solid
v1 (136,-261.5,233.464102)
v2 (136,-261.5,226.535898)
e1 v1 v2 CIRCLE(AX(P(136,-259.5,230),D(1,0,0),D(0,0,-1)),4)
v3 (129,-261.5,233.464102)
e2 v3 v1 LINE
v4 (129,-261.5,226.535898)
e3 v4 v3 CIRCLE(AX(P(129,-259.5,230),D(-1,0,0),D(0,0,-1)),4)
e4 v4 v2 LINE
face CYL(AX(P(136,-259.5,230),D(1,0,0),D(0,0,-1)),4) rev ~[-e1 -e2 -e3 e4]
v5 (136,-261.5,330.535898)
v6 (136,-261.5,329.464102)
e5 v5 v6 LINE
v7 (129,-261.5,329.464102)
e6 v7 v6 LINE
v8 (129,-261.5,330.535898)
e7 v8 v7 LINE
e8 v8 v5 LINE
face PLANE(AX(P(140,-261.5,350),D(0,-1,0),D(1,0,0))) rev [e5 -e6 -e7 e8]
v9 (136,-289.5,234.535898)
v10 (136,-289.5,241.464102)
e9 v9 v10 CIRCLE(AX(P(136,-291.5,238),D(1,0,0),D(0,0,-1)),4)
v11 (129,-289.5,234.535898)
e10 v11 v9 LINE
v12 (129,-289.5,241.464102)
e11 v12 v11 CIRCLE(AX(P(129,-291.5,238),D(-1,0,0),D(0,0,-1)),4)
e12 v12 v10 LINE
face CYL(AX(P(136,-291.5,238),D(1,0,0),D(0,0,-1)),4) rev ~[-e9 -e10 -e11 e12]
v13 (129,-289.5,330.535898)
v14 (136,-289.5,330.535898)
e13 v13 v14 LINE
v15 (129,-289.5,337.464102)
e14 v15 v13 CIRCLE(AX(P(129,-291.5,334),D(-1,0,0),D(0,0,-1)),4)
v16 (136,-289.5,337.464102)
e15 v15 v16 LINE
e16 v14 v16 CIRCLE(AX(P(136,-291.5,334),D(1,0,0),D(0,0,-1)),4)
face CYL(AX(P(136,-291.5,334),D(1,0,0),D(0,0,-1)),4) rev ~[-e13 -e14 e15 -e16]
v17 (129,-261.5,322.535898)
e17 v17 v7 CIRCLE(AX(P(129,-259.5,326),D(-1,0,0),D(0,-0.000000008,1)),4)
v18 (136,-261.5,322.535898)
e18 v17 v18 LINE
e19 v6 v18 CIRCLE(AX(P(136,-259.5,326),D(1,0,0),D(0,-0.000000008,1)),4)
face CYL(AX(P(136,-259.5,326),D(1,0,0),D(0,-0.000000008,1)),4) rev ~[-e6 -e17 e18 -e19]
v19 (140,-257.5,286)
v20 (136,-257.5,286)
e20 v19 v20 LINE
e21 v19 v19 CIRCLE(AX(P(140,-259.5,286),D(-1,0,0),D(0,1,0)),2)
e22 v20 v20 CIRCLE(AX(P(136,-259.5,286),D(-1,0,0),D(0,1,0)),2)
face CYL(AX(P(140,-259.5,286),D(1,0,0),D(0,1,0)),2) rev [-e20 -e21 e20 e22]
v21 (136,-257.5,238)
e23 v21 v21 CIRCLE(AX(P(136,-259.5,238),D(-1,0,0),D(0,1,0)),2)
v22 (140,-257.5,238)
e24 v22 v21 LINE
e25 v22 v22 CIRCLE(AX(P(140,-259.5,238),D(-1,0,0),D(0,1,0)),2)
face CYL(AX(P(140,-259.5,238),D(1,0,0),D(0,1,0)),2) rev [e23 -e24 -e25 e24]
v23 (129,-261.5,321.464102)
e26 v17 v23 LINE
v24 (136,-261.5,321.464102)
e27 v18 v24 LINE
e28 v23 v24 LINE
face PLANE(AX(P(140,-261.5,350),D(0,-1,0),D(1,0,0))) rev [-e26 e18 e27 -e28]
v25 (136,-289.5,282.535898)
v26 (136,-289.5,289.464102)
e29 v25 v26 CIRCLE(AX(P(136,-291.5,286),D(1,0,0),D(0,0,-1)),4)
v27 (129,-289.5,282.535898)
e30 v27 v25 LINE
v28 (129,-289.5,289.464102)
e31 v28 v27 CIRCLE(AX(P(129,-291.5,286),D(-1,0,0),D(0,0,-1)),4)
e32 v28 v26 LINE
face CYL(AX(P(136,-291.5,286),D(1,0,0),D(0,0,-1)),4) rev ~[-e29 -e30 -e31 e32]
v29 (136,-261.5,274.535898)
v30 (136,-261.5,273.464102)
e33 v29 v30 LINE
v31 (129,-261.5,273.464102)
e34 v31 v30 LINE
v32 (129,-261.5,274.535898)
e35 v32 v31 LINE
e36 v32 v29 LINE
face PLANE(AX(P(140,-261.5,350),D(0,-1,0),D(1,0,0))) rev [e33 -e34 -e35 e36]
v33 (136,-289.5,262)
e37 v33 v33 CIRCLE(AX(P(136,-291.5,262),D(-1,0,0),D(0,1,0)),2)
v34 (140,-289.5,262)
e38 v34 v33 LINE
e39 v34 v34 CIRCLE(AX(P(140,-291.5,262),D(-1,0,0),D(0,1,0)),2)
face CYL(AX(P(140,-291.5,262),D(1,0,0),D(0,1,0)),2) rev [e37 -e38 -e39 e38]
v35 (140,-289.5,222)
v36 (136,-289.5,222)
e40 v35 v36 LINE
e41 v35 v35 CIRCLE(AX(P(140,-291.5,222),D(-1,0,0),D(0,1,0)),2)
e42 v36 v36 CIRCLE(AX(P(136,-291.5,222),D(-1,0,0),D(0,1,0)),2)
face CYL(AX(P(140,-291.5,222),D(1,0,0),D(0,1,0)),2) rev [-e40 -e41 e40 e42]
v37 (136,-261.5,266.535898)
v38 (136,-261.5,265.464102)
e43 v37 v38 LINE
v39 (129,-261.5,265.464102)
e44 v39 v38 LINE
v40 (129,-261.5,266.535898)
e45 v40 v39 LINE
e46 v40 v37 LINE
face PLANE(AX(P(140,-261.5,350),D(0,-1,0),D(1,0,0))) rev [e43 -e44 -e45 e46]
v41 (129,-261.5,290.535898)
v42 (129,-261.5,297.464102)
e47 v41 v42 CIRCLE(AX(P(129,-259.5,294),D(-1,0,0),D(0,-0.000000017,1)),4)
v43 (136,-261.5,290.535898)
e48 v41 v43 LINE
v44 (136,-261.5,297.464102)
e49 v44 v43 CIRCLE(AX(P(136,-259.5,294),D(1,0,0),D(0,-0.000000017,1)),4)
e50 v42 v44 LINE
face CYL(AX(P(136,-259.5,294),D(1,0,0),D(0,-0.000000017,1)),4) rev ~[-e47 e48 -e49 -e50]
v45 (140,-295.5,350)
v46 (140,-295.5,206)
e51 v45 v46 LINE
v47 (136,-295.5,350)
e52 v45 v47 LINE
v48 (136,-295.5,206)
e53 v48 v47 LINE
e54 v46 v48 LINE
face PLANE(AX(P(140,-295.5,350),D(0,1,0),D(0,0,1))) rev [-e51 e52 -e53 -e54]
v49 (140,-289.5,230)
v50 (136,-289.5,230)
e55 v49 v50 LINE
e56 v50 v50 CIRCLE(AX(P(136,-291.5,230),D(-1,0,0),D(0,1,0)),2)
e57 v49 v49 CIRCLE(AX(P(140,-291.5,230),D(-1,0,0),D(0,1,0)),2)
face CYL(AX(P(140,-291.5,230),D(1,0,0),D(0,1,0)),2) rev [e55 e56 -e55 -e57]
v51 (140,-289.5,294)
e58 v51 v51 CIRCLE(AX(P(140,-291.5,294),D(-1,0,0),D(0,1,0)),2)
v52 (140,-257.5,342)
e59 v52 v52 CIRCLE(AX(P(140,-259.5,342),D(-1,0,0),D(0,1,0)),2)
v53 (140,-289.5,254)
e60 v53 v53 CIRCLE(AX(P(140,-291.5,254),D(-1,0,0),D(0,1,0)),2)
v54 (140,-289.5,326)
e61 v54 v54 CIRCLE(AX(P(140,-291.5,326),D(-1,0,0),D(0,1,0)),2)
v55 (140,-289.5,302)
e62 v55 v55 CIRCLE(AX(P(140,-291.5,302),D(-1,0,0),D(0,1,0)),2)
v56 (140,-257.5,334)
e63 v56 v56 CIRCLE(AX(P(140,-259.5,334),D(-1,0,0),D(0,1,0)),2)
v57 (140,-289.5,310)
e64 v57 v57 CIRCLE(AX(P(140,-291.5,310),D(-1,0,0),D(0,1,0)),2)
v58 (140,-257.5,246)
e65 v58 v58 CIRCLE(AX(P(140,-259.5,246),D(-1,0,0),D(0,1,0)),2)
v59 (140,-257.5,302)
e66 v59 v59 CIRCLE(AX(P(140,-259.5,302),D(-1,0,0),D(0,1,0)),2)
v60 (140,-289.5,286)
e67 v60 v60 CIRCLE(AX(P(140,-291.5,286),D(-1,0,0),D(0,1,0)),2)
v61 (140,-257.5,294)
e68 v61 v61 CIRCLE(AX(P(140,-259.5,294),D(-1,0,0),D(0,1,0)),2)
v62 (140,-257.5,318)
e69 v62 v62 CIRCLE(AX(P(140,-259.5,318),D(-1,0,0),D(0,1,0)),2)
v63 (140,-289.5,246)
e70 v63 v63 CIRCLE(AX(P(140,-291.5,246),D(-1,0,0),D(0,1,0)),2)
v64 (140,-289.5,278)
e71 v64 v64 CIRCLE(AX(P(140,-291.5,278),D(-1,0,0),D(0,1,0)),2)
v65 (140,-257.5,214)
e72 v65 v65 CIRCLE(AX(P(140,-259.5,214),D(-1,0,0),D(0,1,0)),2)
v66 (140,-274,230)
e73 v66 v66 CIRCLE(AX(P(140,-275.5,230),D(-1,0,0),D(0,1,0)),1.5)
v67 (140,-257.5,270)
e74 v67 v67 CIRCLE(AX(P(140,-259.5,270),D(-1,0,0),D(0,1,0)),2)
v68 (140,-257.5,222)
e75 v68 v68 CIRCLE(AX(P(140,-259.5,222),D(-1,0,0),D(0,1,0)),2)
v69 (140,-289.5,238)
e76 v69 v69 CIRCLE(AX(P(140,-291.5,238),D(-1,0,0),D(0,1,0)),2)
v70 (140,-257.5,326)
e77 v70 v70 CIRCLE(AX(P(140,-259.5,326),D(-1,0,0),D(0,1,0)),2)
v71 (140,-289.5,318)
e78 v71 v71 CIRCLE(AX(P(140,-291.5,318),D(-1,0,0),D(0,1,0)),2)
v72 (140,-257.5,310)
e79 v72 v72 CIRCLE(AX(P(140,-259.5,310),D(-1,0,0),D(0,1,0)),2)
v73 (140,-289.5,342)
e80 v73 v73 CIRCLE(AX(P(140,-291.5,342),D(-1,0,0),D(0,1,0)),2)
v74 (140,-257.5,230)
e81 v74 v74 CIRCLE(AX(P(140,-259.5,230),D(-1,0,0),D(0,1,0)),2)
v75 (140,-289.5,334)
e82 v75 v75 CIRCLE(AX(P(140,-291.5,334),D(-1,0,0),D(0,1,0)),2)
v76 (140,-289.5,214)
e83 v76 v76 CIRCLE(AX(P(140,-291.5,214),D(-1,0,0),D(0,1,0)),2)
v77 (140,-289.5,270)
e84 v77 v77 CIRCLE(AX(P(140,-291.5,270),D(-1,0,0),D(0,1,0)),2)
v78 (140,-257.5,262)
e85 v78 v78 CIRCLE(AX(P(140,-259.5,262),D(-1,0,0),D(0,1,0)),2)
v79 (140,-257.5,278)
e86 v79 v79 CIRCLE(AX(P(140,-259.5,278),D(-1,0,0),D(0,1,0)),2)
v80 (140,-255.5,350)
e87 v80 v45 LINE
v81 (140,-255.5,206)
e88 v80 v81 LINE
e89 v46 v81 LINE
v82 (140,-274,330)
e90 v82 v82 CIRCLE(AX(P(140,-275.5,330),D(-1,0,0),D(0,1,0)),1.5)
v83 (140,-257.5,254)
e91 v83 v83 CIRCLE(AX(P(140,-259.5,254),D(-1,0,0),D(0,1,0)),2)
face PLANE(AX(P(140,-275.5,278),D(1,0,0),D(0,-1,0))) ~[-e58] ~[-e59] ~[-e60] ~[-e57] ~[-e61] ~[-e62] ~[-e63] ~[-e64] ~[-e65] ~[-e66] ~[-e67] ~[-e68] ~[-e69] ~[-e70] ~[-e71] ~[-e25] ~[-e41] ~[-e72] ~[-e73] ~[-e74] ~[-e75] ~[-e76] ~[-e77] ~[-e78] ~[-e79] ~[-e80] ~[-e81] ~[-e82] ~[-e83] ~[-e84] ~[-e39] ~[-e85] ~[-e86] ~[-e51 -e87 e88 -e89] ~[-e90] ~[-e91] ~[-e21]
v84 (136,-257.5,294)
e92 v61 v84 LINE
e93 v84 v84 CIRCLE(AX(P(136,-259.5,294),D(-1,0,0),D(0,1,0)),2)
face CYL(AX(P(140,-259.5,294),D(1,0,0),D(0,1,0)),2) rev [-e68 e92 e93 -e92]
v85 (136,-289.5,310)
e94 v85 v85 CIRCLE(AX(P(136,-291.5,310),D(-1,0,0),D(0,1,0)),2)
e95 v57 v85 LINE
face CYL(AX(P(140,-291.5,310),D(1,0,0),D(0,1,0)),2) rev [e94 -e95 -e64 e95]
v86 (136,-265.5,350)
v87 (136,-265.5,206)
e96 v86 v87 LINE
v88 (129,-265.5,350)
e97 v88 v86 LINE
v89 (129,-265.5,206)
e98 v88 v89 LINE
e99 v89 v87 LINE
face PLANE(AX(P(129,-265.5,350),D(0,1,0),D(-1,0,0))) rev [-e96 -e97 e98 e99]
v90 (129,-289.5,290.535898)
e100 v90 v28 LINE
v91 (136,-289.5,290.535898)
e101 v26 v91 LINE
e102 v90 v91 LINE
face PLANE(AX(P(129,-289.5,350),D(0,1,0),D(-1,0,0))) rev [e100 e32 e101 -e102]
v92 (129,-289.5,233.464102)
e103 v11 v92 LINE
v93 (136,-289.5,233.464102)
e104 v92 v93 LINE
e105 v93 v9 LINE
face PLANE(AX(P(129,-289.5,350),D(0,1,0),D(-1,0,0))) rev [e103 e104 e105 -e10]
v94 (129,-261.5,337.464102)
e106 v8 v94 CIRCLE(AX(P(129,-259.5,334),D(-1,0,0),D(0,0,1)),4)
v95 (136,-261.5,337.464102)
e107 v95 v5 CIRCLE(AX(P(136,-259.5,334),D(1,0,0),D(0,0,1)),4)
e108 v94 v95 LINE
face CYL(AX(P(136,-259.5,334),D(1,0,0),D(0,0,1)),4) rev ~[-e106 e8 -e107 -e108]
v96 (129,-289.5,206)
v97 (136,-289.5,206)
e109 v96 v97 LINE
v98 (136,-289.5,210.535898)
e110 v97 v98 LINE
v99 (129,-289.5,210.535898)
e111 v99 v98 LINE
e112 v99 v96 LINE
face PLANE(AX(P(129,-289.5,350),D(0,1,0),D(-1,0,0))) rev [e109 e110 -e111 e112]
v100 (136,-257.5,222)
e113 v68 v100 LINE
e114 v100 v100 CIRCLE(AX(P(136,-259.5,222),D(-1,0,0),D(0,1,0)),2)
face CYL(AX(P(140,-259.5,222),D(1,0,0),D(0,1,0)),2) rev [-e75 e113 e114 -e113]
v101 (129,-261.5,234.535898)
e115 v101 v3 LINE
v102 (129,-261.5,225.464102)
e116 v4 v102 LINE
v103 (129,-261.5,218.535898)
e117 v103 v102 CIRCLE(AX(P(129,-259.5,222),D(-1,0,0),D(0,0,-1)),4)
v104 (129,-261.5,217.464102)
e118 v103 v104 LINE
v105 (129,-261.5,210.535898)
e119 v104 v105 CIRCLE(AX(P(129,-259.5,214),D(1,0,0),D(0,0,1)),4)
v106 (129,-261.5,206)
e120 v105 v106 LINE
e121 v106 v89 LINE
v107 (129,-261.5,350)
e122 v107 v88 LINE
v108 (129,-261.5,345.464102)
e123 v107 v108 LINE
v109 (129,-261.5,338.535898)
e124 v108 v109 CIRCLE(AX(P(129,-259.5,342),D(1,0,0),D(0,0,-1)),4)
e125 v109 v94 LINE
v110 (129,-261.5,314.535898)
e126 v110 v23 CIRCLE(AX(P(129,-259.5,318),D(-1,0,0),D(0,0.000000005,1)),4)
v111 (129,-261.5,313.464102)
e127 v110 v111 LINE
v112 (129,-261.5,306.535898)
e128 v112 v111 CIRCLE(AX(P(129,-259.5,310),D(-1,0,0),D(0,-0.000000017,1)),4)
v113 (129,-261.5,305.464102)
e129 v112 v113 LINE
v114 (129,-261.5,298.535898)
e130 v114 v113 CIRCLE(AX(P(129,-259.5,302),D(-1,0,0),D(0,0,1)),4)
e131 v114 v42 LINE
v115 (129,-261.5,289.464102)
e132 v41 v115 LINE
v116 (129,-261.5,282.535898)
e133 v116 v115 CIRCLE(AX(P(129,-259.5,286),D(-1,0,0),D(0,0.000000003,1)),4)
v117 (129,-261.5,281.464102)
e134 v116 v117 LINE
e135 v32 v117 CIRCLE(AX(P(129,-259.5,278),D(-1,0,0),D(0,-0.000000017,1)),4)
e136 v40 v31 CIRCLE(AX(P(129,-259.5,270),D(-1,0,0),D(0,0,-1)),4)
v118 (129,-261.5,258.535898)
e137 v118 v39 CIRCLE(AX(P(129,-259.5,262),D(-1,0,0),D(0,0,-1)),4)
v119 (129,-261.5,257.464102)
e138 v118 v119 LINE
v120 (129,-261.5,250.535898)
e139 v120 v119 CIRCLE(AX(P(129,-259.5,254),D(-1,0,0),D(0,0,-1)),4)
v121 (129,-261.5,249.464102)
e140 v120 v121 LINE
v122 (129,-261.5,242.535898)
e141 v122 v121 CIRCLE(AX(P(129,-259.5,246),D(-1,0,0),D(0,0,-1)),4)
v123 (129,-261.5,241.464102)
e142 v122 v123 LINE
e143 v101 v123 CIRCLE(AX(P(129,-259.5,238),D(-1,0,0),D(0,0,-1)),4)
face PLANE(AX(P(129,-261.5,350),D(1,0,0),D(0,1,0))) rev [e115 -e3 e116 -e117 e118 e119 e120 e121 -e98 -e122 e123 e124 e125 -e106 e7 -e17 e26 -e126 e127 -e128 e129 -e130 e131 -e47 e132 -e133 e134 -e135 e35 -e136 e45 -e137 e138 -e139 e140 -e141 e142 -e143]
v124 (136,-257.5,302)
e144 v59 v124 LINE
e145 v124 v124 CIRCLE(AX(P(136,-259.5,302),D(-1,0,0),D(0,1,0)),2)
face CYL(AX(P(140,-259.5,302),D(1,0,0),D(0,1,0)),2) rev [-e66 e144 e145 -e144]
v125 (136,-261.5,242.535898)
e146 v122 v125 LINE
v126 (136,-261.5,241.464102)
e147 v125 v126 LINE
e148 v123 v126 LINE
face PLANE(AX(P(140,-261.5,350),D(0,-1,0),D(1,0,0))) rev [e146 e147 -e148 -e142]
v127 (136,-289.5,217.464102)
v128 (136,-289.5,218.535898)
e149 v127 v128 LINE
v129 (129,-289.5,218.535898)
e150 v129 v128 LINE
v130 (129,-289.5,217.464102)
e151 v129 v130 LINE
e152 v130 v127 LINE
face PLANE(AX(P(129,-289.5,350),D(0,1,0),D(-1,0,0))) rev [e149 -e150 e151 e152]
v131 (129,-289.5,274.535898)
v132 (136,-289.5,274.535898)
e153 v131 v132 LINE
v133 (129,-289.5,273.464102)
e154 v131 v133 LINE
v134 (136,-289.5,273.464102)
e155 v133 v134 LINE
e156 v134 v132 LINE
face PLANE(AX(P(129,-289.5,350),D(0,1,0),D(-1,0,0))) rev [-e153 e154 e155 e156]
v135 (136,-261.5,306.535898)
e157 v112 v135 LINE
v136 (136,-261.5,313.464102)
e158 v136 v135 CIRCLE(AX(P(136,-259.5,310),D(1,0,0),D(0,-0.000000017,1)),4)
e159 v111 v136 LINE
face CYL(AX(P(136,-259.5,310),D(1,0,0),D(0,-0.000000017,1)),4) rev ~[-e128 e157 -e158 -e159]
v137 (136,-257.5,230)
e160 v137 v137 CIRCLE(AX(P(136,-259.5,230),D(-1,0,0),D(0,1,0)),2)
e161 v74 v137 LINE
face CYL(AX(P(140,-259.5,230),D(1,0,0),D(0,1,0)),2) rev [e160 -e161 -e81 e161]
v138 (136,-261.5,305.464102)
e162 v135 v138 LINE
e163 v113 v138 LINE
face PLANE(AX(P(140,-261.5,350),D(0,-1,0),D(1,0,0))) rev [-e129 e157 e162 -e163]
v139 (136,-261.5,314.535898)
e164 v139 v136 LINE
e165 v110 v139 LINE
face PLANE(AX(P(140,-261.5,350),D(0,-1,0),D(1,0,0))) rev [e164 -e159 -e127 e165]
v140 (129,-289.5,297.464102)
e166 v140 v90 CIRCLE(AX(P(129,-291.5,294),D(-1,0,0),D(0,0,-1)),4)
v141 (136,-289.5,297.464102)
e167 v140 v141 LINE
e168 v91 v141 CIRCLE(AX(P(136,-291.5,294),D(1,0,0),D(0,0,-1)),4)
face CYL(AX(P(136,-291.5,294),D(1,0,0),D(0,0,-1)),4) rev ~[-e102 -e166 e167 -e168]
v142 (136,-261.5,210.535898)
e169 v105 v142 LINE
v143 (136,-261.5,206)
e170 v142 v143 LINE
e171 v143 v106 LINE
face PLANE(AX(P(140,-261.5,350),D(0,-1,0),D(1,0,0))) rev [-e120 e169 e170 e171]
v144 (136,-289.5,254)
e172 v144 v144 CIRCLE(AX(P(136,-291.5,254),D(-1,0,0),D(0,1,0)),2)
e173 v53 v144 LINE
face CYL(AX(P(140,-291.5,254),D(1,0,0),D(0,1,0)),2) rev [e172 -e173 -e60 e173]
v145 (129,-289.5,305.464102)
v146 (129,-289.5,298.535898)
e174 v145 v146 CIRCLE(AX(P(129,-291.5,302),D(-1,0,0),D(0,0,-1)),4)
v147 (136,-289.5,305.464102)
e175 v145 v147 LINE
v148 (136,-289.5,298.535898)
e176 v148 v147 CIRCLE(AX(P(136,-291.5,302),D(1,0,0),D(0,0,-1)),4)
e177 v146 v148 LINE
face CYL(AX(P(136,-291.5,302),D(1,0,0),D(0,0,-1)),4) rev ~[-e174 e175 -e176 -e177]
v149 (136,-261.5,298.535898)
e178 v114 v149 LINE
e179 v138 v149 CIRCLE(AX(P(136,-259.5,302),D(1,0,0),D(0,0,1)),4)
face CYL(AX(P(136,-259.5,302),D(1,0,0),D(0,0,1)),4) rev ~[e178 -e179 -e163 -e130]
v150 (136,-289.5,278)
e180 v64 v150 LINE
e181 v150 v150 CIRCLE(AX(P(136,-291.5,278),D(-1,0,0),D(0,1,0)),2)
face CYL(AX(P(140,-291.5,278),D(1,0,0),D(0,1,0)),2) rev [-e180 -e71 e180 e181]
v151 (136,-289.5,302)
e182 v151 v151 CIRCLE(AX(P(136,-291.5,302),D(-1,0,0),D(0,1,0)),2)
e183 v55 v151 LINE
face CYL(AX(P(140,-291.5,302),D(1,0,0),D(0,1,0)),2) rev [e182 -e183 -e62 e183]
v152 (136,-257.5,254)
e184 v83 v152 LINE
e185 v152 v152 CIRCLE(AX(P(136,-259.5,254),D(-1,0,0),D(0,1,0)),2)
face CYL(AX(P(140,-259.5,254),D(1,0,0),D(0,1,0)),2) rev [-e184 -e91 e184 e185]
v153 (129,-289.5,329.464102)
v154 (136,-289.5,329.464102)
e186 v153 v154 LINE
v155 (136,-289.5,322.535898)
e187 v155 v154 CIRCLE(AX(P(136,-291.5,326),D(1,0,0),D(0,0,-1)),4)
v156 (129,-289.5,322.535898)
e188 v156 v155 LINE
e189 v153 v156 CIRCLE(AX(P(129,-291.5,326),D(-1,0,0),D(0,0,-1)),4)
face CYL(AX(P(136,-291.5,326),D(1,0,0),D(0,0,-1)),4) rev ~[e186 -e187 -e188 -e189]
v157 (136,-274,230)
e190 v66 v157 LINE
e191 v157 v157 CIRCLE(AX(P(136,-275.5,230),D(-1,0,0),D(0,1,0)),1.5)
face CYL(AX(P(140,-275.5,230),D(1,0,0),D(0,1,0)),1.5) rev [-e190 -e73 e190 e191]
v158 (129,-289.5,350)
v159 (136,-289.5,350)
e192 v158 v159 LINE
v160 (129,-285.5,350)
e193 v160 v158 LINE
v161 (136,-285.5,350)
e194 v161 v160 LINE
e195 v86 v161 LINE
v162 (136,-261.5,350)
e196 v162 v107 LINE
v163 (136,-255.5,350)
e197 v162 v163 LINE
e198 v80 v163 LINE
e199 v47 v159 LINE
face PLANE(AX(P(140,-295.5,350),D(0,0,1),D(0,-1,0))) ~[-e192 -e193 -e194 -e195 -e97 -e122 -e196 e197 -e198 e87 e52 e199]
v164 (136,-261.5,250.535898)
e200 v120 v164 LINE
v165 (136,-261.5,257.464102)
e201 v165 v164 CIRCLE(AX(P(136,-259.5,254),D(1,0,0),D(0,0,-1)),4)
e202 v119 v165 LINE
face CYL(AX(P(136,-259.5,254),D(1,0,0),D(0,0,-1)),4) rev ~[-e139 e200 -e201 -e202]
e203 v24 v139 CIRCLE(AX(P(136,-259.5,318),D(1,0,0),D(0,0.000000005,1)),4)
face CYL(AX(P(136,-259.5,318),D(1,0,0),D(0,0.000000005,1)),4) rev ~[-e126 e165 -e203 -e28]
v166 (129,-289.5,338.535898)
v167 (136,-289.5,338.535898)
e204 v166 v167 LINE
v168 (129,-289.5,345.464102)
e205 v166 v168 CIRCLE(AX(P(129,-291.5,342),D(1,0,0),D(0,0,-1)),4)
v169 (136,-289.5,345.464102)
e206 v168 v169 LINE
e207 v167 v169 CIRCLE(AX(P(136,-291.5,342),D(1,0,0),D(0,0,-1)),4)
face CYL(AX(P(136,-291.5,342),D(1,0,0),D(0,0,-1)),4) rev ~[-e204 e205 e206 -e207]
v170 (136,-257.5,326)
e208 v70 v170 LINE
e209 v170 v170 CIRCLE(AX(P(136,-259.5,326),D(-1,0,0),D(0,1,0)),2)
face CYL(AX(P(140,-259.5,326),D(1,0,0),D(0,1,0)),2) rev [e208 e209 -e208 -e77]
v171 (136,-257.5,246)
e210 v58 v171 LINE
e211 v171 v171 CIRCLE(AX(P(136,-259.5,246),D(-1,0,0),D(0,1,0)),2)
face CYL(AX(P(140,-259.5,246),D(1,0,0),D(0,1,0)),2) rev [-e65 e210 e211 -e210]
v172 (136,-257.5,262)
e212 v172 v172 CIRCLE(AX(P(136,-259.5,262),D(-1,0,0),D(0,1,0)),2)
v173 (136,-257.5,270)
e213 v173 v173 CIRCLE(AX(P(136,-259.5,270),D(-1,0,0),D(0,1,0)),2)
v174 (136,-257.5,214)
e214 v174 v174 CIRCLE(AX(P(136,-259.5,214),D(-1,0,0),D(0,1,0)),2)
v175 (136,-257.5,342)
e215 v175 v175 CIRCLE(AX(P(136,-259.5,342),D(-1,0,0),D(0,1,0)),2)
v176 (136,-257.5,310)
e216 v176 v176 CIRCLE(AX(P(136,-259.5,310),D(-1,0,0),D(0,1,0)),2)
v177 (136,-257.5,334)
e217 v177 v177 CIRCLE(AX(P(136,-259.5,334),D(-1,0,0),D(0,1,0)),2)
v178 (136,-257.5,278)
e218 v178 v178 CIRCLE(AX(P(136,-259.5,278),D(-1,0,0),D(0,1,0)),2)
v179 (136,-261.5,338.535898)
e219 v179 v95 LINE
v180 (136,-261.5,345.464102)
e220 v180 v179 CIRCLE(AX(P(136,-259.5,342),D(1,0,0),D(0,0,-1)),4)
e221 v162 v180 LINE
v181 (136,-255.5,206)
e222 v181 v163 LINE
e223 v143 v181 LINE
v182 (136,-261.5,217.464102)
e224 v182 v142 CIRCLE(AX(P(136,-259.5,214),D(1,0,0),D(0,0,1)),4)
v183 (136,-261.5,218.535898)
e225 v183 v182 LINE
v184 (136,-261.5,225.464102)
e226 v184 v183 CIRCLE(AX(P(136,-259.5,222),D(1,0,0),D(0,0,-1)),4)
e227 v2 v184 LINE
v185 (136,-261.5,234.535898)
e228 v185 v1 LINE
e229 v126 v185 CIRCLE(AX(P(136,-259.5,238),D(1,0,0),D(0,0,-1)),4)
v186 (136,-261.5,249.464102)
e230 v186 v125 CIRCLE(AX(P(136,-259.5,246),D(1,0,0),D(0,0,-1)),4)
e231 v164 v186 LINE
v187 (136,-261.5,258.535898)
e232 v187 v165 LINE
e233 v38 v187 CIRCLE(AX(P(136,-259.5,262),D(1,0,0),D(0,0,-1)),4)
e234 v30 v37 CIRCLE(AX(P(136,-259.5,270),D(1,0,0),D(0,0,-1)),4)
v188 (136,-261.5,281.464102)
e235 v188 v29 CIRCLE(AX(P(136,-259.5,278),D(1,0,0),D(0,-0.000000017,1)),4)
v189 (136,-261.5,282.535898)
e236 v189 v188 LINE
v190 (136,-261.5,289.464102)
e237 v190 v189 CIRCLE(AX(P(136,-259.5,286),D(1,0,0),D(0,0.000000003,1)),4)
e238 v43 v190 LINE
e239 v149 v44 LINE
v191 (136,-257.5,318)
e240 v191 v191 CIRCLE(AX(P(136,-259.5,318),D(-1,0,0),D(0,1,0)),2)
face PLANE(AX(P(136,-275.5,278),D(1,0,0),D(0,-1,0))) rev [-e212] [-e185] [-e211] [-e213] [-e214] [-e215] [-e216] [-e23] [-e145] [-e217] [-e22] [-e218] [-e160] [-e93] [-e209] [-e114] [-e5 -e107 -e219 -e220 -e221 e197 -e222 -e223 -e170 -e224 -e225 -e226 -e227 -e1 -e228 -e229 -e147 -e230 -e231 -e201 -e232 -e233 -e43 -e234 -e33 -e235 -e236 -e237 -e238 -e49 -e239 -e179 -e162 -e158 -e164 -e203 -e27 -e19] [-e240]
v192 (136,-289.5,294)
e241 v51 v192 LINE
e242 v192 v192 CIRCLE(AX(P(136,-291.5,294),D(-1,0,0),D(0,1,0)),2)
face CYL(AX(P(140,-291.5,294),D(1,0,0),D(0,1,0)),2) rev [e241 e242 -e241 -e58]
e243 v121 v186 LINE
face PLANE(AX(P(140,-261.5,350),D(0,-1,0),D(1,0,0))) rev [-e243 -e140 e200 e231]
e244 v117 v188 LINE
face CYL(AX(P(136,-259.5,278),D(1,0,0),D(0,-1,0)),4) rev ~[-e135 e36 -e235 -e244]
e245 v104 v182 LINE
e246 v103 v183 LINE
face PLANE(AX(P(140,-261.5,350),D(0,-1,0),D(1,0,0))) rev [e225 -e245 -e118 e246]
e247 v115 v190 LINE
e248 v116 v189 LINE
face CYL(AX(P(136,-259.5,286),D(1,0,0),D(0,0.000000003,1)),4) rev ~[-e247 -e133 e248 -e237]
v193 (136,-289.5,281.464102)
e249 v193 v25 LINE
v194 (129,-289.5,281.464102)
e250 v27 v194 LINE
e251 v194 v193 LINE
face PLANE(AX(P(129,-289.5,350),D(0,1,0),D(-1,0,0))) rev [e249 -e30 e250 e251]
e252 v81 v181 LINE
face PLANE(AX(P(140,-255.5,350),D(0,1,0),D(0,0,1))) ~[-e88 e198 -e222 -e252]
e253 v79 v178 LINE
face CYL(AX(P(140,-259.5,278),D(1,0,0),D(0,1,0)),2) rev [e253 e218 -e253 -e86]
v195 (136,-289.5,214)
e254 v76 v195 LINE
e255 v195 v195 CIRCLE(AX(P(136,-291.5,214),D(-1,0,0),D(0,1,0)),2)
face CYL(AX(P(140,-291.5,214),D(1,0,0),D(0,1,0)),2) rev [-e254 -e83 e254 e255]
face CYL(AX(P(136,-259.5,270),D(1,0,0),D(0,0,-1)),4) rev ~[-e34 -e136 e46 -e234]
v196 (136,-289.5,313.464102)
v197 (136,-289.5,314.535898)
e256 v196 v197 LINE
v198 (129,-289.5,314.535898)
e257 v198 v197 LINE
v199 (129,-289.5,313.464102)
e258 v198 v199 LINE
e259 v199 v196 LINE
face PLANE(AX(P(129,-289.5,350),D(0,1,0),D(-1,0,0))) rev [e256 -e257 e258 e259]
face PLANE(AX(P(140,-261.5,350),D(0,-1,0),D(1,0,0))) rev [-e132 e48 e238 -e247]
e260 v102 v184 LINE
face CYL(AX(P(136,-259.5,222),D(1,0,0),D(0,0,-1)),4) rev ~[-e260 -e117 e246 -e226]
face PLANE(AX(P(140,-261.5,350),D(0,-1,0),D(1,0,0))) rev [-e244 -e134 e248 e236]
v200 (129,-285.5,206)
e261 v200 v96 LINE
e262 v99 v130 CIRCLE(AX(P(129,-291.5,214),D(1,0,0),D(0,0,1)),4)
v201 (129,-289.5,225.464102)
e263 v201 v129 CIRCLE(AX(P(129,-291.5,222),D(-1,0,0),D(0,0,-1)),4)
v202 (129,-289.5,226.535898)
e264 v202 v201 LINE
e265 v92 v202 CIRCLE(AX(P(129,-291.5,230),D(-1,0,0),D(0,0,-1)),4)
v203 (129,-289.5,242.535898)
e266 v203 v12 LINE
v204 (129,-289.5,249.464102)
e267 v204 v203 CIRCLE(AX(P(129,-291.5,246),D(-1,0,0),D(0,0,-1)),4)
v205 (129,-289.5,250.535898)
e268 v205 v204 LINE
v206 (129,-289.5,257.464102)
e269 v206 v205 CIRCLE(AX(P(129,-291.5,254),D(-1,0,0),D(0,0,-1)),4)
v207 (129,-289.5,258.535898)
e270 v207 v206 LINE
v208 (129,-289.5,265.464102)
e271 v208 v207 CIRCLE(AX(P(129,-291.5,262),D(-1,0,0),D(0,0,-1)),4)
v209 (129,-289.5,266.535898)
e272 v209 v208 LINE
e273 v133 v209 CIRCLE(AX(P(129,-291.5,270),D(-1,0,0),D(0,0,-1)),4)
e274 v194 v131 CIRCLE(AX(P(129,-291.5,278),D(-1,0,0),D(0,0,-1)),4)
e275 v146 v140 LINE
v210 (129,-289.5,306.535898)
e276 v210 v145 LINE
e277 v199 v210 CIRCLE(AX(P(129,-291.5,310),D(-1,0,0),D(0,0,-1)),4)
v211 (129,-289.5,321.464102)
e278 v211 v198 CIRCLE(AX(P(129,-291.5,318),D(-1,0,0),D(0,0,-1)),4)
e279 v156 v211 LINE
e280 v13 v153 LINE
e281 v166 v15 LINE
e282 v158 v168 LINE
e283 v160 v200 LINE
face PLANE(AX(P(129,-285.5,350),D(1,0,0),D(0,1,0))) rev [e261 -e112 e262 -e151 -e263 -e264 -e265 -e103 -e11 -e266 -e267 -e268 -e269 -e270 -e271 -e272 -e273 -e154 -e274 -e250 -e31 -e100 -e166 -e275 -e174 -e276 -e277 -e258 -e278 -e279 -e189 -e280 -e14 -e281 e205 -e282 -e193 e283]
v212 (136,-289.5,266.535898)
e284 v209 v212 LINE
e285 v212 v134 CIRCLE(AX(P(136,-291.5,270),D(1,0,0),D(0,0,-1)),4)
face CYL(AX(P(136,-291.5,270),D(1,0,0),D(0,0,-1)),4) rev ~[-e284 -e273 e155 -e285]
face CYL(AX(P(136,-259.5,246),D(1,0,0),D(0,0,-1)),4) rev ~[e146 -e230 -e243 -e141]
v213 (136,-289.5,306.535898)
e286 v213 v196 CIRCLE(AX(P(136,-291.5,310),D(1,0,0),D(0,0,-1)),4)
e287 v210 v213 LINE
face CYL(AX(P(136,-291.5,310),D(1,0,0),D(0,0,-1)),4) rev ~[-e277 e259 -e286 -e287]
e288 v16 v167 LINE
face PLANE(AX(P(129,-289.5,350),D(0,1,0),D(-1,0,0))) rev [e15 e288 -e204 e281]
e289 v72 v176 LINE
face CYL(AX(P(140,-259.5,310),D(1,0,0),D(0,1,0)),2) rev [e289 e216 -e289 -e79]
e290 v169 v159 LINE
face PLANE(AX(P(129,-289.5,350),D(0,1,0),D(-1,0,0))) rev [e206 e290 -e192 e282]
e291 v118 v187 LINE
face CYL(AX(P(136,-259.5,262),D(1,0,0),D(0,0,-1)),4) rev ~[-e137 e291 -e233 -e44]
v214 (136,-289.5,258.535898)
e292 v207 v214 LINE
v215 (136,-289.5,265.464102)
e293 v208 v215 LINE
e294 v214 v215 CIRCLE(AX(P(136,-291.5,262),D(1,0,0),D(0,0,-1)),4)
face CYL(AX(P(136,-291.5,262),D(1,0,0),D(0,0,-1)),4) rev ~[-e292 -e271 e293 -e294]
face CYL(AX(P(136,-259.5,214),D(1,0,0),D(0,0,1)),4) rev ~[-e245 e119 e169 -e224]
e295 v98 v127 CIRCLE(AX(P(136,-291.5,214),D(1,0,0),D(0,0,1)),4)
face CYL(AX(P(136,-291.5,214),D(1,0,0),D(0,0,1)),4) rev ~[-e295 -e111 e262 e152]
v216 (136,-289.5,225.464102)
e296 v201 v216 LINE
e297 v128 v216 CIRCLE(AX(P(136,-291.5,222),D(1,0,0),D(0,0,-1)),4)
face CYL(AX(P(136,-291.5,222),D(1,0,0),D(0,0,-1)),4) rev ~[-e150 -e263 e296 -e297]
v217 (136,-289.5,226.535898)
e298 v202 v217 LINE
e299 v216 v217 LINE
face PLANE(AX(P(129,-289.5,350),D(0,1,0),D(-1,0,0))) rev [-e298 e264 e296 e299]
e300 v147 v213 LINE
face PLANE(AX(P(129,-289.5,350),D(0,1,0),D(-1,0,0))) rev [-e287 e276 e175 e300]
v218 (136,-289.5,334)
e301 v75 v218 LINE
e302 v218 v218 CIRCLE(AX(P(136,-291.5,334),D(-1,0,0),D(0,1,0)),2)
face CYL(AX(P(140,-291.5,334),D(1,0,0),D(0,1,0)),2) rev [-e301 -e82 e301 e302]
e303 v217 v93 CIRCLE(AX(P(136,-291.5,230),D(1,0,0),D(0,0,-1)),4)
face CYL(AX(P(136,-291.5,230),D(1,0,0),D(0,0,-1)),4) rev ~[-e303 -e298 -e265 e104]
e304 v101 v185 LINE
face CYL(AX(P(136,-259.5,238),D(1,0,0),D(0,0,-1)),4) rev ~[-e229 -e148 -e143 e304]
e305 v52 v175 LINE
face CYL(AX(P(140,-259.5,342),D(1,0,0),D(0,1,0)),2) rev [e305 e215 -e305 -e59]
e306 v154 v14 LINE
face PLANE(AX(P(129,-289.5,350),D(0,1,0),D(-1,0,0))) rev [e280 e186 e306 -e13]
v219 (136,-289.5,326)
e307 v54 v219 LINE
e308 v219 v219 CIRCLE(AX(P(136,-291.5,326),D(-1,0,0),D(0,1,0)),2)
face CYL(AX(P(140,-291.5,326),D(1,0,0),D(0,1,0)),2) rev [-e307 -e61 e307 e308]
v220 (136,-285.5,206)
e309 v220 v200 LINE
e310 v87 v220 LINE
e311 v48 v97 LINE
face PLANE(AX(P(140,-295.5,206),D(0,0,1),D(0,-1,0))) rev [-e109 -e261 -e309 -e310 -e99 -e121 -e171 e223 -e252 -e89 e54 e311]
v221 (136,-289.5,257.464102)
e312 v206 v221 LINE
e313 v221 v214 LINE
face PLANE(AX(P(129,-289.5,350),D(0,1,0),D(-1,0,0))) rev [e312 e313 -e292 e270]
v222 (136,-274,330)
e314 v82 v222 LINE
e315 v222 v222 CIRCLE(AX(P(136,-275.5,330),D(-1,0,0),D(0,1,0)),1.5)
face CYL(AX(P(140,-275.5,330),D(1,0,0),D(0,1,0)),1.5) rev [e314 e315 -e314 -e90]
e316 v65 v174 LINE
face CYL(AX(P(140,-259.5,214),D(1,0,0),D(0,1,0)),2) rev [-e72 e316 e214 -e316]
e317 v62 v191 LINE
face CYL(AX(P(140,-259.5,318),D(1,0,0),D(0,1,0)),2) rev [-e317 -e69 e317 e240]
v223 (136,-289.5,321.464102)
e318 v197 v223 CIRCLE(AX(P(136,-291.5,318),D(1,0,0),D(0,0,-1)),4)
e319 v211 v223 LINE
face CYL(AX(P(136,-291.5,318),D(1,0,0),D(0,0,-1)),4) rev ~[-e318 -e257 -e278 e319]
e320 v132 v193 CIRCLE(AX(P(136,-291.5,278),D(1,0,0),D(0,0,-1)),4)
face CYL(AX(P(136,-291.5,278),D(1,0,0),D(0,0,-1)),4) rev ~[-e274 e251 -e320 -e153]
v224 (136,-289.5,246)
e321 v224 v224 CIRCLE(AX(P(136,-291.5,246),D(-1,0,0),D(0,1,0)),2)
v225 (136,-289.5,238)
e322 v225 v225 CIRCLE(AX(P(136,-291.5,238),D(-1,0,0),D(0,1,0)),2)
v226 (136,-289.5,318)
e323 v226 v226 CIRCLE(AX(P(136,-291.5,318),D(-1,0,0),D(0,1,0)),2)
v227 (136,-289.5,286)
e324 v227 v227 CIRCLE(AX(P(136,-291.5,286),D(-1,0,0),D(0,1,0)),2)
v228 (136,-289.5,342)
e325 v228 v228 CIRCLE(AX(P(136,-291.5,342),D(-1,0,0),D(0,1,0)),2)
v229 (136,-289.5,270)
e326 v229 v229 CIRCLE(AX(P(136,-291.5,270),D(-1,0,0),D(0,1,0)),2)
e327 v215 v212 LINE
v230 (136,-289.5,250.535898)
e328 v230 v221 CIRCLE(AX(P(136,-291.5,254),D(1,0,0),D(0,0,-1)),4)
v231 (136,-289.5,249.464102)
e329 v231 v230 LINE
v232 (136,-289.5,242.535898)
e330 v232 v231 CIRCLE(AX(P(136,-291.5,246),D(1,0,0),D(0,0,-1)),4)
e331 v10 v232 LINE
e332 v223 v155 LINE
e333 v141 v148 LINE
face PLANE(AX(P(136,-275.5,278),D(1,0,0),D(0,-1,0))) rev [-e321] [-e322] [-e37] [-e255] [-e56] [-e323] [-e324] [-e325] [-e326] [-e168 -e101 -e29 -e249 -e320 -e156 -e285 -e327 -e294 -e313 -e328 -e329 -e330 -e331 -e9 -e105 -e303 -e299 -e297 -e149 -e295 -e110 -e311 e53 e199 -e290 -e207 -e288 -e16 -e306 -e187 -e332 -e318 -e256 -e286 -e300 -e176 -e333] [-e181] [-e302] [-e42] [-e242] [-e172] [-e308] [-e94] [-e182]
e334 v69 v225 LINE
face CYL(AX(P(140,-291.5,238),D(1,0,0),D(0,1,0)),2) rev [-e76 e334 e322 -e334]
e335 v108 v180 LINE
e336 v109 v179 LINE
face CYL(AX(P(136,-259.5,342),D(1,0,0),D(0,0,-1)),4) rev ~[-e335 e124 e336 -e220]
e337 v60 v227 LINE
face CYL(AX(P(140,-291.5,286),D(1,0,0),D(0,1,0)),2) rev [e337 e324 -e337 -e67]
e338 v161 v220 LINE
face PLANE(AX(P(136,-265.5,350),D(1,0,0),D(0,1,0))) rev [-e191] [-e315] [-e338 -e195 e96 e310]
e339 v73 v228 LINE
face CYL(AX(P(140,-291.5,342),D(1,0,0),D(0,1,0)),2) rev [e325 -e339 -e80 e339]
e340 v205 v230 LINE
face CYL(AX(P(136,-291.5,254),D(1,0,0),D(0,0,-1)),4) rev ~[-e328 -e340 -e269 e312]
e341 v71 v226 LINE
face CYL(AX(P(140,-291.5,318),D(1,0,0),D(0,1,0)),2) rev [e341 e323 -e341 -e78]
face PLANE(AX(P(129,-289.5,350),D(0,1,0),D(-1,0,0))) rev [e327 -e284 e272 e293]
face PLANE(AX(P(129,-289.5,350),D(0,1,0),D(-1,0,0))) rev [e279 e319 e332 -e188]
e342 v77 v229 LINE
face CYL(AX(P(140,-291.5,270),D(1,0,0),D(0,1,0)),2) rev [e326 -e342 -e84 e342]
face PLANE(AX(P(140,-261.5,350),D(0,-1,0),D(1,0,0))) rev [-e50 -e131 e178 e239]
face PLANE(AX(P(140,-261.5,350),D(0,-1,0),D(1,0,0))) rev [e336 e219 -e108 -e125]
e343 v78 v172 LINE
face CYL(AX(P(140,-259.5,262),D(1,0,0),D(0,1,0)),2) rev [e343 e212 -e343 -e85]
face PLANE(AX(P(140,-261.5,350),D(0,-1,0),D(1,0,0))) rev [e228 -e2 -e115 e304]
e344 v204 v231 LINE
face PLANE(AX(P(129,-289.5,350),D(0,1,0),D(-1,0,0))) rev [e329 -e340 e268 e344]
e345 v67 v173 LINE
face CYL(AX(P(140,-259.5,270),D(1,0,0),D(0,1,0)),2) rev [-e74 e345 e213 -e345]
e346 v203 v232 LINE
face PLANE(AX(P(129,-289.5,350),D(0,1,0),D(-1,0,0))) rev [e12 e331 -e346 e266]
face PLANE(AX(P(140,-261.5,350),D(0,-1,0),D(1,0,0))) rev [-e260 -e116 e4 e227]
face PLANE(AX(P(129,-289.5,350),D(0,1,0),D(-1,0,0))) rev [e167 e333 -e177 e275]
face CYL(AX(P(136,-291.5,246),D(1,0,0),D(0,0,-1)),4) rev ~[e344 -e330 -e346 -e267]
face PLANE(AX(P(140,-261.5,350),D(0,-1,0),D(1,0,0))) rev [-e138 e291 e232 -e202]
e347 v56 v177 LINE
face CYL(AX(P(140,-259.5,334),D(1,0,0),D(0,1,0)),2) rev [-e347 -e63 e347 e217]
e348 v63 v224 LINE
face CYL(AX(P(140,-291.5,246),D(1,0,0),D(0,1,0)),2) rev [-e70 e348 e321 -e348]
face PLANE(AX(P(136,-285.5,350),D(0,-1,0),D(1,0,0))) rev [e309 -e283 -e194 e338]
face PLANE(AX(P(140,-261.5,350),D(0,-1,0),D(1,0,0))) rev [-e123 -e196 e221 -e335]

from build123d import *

# Parameters (mm, degrees)
PAD035_DEPTH            = 144
SKETCH070_W             = 40
SKETCH070_H             = 144
PAD036_DEPTH            = 4
SKETCH071_R             = 1.5
POCKET033_DEPTH         = 5
SKETCH072_R             = 2
POCKET034_DEPTH         = 4
SKETCH073_R             = 4
POCKET035_DEPTH         = 7
BODY020_PLACEMENT_ANGLE = 90


with BuildPart() as leftfront002:
    # Sketch069 → Pad035 (new body)
    with BuildSketch(Plane.XZ):
        Polygon((0, 0), (0, 10), (7, 10), (7, 14), (-4, 14), (-4, -14), (7, -14), (7, -10), (0, -10), align=None)
    extrude(amount=PAD035_DEPTH)

    # Sketch070 (on Face4 of Pad035) → Pad036 (join)
    with BuildSketch(Plane(origin=(-4, 0, 0), x_dir=(0, 0, -1), z_dir=(-1, 0, 0))):
        with Locations((0, 72)):
            Rectangle(SKETCH070_W, SKETCH070_H)
    extrude(amount=-PAD036_DEPTH)

    # Sketch071 (on Face14 of Pad036) → Pocket033 (cut)
    with BuildSketch(Plane(origin=(-4, 0, 0), x_dir=(0, 0, -1), z_dir=(-1, 0, 0))):
        with Locations((0, 20)):
            Circle(SKETCH071_R)
        with Locations((0, 120)):
            Circle(SKETCH071_R)
    extrude(amount=-POCKET033_DEPTH, mode=Mode.SUBTRACT)

    # Sketch072 (on Face14 of Pocket033) → Pocket034 (cut)
    with BuildSketch(Plane(origin=(-4, 0, 0), x_dir=(0, 0, -1), z_dir=(-1, 0, 0))):
        with Locations((-16, 8)):
            Circle(SKETCH072_R)
        with Locations((-16, 16)):
            Circle(SKETCH072_R)
        with Locations((-16, 24)):
            Circle(SKETCH072_R)
        with Locations((-16, 32)):
            Circle(SKETCH072_R)
        with Locations((-16, 40)):
            Circle(SKETCH072_R)
        with Locations((-16, 48)):
            Circle(SKETCH072_R)
        with Locations((-16, 56)):
            Circle(SKETCH072_R)
        with Locations((-16, 64)):
            Circle(SKETCH072_R)
        with Locations((-16, 136)):
            Circle(SKETCH072_R)
        with Locations((-16, 128)):
            Circle(SKETCH072_R)
        with Locations((-16, 120)):
            Circle(SKETCH072_R)
        with Locations((-16, 112)):
            Circle(SKETCH072_R)
        with Locations((-16, 104)):
            Circle(SKETCH072_R)
        with Locations((-16, 96)):
            Circle(SKETCH072_R)
        with Locations((-16, 88)):
            Circle(SKETCH072_R)
        with Locations((-16, 80)):
            Circle(SKETCH072_R)
        with Locations((-16, 72)):
            Circle(SKETCH072_R)
        with Locations((16, 136)):
            Circle(SKETCH072_R)
        with Locations((16, 128)):
            Circle(SKETCH072_R)
        with Locations((16, 120)):
            Circle(SKETCH072_R)
        with Locations((16, 112)):
            Circle(SKETCH072_R)
        with Locations((16, 104)):
            Circle(SKETCH072_R)
        with Locations((16, 96)):
            Circle(SKETCH072_R)
        with Locations((16, 88)):
            Circle(SKETCH072_R)
        with Locations((16, 80)):
            Circle(SKETCH072_R)
        with Locations((16, 72)):
            Circle(SKETCH072_R)
        with Locations((16, 64)):
            Circle(SKETCH072_R)
        with Locations((16, 56)):
            Circle(SKETCH072_R)
        with Locations((16, 48)):
            Circle(SKETCH072_R)
        with Locations((16, 40)):
            Circle(SKETCH072_R)
        with Locations((16, 32)):
            Circle(SKETCH072_R)
        with Locations((16, 24)):
            Circle(SKETCH072_R)
        with Locations((16, 16)):
            Circle(SKETCH072_R)
        with Locations((16, 8)):
            Circle(SKETCH072_R)
    extrude(amount=-POCKET034_DEPTH, mode=Mode.SUBTRACT)

    # Sketch073 (on Face16 of Pocket033) → Pocket035 (cut)
    with BuildSketch(Plane(origin=(0, 0, 0), x_dir=(0, 0, 1), z_dir=(1, 0, 0))):
        with Locations((-16, 8)):
            Circle(SKETCH073_R)
        with Locations((-16, 16)):
            Circle(SKETCH073_R)
        with Locations((-16, 24)):
            Circle(SKETCH073_R)
        with Locations((-16, 32)):
            Circle(SKETCH073_R)
        with Locations((-16, 40)):
            Circle(SKETCH073_R)
        with Locations((-16, 48)):
            Circle(SKETCH073_R)
        with Locations((-16, 56)):
            Circle(SKETCH073_R)
        with Locations((-16, 64)):
            Circle(SKETCH073_R)
        with Locations((-16, 136)):
            Circle(SKETCH073_R)
        with Locations((-16, 128)):
            Circle(SKETCH073_R)
        with Locations((-16, 120)):
            Circle(SKETCH073_R)
        with Locations((-16, 112)):
            Circle(SKETCH073_R)
        with Locations((-16, 104)):
            Circle(SKETCH073_R)
        with Locations((-16, 96)):
            Circle(SKETCH073_R)
        with Locations((-16, 88)):
            Circle(SKETCH073_R)
        with Locations((-16, 80)):
            Circle(SKETCH073_R)
        with Locations((-16, 72)):
            Circle(SKETCH073_R)
        with Locations((16, 136)):
            Circle(SKETCH073_R)
        with Locations((16, 128)):
            Circle(SKETCH073_R)
        with Locations((16, 120)):
            Circle(SKETCH073_R)
        with Locations((16, 112)):
            Circle(SKETCH073_R)
        with Locations((16, 104)):
            Circle(SKETCH073_R)
        with Locations((16, 96)):
            Circle(SKETCH073_R)
        with Locations((16, 88)):
            Circle(SKETCH073_R)
        with Locations((16, 80)):
            Circle(SKETCH073_R)
        with Locations((16, 72)):
            Circle(SKETCH073_R)
        with Locations((16, 64)):
            Circle(SKETCH073_R)
        with Locations((16, 56)):
            Circle(SKETCH073_R)
        with Locations((16, 48)):
            Circle(SKETCH073_R)
        with Locations((16, 40)):
            Circle(SKETCH073_R)
        with Locations((16, 32)):
            Circle(SKETCH073_R)
        with Locations((16, 24)):
            Circle(SKETCH073_R)
        with Locations((16, 16)):
            Circle(SKETCH073_R)
        with Locations((16, 8)):
            Circle(SKETCH073_R)
    extrude(amount=POCKET035_DEPTH, mode=Mode.SUBTRACT)


with BuildPart() as leftfront002_1:
    # Body020 placement: moved
    add(leftfront002.part.moved(Location((-136, -275.5, 350))).rotate(Axis((-136, -275.5, 350), (1, 0, 0)), BODY020_PLACEMENT_ANGLE))


with BuildPart() as rightfront002:
    # Part__Mirroring009: instance of LeftFront002
    add(leftfront002_1.part.mirror(Plane(origin=(0, 0, 0), x_dir=(0, -1, 0), z_dir=(1, 0, 0))))


solid = rightfront002.part
